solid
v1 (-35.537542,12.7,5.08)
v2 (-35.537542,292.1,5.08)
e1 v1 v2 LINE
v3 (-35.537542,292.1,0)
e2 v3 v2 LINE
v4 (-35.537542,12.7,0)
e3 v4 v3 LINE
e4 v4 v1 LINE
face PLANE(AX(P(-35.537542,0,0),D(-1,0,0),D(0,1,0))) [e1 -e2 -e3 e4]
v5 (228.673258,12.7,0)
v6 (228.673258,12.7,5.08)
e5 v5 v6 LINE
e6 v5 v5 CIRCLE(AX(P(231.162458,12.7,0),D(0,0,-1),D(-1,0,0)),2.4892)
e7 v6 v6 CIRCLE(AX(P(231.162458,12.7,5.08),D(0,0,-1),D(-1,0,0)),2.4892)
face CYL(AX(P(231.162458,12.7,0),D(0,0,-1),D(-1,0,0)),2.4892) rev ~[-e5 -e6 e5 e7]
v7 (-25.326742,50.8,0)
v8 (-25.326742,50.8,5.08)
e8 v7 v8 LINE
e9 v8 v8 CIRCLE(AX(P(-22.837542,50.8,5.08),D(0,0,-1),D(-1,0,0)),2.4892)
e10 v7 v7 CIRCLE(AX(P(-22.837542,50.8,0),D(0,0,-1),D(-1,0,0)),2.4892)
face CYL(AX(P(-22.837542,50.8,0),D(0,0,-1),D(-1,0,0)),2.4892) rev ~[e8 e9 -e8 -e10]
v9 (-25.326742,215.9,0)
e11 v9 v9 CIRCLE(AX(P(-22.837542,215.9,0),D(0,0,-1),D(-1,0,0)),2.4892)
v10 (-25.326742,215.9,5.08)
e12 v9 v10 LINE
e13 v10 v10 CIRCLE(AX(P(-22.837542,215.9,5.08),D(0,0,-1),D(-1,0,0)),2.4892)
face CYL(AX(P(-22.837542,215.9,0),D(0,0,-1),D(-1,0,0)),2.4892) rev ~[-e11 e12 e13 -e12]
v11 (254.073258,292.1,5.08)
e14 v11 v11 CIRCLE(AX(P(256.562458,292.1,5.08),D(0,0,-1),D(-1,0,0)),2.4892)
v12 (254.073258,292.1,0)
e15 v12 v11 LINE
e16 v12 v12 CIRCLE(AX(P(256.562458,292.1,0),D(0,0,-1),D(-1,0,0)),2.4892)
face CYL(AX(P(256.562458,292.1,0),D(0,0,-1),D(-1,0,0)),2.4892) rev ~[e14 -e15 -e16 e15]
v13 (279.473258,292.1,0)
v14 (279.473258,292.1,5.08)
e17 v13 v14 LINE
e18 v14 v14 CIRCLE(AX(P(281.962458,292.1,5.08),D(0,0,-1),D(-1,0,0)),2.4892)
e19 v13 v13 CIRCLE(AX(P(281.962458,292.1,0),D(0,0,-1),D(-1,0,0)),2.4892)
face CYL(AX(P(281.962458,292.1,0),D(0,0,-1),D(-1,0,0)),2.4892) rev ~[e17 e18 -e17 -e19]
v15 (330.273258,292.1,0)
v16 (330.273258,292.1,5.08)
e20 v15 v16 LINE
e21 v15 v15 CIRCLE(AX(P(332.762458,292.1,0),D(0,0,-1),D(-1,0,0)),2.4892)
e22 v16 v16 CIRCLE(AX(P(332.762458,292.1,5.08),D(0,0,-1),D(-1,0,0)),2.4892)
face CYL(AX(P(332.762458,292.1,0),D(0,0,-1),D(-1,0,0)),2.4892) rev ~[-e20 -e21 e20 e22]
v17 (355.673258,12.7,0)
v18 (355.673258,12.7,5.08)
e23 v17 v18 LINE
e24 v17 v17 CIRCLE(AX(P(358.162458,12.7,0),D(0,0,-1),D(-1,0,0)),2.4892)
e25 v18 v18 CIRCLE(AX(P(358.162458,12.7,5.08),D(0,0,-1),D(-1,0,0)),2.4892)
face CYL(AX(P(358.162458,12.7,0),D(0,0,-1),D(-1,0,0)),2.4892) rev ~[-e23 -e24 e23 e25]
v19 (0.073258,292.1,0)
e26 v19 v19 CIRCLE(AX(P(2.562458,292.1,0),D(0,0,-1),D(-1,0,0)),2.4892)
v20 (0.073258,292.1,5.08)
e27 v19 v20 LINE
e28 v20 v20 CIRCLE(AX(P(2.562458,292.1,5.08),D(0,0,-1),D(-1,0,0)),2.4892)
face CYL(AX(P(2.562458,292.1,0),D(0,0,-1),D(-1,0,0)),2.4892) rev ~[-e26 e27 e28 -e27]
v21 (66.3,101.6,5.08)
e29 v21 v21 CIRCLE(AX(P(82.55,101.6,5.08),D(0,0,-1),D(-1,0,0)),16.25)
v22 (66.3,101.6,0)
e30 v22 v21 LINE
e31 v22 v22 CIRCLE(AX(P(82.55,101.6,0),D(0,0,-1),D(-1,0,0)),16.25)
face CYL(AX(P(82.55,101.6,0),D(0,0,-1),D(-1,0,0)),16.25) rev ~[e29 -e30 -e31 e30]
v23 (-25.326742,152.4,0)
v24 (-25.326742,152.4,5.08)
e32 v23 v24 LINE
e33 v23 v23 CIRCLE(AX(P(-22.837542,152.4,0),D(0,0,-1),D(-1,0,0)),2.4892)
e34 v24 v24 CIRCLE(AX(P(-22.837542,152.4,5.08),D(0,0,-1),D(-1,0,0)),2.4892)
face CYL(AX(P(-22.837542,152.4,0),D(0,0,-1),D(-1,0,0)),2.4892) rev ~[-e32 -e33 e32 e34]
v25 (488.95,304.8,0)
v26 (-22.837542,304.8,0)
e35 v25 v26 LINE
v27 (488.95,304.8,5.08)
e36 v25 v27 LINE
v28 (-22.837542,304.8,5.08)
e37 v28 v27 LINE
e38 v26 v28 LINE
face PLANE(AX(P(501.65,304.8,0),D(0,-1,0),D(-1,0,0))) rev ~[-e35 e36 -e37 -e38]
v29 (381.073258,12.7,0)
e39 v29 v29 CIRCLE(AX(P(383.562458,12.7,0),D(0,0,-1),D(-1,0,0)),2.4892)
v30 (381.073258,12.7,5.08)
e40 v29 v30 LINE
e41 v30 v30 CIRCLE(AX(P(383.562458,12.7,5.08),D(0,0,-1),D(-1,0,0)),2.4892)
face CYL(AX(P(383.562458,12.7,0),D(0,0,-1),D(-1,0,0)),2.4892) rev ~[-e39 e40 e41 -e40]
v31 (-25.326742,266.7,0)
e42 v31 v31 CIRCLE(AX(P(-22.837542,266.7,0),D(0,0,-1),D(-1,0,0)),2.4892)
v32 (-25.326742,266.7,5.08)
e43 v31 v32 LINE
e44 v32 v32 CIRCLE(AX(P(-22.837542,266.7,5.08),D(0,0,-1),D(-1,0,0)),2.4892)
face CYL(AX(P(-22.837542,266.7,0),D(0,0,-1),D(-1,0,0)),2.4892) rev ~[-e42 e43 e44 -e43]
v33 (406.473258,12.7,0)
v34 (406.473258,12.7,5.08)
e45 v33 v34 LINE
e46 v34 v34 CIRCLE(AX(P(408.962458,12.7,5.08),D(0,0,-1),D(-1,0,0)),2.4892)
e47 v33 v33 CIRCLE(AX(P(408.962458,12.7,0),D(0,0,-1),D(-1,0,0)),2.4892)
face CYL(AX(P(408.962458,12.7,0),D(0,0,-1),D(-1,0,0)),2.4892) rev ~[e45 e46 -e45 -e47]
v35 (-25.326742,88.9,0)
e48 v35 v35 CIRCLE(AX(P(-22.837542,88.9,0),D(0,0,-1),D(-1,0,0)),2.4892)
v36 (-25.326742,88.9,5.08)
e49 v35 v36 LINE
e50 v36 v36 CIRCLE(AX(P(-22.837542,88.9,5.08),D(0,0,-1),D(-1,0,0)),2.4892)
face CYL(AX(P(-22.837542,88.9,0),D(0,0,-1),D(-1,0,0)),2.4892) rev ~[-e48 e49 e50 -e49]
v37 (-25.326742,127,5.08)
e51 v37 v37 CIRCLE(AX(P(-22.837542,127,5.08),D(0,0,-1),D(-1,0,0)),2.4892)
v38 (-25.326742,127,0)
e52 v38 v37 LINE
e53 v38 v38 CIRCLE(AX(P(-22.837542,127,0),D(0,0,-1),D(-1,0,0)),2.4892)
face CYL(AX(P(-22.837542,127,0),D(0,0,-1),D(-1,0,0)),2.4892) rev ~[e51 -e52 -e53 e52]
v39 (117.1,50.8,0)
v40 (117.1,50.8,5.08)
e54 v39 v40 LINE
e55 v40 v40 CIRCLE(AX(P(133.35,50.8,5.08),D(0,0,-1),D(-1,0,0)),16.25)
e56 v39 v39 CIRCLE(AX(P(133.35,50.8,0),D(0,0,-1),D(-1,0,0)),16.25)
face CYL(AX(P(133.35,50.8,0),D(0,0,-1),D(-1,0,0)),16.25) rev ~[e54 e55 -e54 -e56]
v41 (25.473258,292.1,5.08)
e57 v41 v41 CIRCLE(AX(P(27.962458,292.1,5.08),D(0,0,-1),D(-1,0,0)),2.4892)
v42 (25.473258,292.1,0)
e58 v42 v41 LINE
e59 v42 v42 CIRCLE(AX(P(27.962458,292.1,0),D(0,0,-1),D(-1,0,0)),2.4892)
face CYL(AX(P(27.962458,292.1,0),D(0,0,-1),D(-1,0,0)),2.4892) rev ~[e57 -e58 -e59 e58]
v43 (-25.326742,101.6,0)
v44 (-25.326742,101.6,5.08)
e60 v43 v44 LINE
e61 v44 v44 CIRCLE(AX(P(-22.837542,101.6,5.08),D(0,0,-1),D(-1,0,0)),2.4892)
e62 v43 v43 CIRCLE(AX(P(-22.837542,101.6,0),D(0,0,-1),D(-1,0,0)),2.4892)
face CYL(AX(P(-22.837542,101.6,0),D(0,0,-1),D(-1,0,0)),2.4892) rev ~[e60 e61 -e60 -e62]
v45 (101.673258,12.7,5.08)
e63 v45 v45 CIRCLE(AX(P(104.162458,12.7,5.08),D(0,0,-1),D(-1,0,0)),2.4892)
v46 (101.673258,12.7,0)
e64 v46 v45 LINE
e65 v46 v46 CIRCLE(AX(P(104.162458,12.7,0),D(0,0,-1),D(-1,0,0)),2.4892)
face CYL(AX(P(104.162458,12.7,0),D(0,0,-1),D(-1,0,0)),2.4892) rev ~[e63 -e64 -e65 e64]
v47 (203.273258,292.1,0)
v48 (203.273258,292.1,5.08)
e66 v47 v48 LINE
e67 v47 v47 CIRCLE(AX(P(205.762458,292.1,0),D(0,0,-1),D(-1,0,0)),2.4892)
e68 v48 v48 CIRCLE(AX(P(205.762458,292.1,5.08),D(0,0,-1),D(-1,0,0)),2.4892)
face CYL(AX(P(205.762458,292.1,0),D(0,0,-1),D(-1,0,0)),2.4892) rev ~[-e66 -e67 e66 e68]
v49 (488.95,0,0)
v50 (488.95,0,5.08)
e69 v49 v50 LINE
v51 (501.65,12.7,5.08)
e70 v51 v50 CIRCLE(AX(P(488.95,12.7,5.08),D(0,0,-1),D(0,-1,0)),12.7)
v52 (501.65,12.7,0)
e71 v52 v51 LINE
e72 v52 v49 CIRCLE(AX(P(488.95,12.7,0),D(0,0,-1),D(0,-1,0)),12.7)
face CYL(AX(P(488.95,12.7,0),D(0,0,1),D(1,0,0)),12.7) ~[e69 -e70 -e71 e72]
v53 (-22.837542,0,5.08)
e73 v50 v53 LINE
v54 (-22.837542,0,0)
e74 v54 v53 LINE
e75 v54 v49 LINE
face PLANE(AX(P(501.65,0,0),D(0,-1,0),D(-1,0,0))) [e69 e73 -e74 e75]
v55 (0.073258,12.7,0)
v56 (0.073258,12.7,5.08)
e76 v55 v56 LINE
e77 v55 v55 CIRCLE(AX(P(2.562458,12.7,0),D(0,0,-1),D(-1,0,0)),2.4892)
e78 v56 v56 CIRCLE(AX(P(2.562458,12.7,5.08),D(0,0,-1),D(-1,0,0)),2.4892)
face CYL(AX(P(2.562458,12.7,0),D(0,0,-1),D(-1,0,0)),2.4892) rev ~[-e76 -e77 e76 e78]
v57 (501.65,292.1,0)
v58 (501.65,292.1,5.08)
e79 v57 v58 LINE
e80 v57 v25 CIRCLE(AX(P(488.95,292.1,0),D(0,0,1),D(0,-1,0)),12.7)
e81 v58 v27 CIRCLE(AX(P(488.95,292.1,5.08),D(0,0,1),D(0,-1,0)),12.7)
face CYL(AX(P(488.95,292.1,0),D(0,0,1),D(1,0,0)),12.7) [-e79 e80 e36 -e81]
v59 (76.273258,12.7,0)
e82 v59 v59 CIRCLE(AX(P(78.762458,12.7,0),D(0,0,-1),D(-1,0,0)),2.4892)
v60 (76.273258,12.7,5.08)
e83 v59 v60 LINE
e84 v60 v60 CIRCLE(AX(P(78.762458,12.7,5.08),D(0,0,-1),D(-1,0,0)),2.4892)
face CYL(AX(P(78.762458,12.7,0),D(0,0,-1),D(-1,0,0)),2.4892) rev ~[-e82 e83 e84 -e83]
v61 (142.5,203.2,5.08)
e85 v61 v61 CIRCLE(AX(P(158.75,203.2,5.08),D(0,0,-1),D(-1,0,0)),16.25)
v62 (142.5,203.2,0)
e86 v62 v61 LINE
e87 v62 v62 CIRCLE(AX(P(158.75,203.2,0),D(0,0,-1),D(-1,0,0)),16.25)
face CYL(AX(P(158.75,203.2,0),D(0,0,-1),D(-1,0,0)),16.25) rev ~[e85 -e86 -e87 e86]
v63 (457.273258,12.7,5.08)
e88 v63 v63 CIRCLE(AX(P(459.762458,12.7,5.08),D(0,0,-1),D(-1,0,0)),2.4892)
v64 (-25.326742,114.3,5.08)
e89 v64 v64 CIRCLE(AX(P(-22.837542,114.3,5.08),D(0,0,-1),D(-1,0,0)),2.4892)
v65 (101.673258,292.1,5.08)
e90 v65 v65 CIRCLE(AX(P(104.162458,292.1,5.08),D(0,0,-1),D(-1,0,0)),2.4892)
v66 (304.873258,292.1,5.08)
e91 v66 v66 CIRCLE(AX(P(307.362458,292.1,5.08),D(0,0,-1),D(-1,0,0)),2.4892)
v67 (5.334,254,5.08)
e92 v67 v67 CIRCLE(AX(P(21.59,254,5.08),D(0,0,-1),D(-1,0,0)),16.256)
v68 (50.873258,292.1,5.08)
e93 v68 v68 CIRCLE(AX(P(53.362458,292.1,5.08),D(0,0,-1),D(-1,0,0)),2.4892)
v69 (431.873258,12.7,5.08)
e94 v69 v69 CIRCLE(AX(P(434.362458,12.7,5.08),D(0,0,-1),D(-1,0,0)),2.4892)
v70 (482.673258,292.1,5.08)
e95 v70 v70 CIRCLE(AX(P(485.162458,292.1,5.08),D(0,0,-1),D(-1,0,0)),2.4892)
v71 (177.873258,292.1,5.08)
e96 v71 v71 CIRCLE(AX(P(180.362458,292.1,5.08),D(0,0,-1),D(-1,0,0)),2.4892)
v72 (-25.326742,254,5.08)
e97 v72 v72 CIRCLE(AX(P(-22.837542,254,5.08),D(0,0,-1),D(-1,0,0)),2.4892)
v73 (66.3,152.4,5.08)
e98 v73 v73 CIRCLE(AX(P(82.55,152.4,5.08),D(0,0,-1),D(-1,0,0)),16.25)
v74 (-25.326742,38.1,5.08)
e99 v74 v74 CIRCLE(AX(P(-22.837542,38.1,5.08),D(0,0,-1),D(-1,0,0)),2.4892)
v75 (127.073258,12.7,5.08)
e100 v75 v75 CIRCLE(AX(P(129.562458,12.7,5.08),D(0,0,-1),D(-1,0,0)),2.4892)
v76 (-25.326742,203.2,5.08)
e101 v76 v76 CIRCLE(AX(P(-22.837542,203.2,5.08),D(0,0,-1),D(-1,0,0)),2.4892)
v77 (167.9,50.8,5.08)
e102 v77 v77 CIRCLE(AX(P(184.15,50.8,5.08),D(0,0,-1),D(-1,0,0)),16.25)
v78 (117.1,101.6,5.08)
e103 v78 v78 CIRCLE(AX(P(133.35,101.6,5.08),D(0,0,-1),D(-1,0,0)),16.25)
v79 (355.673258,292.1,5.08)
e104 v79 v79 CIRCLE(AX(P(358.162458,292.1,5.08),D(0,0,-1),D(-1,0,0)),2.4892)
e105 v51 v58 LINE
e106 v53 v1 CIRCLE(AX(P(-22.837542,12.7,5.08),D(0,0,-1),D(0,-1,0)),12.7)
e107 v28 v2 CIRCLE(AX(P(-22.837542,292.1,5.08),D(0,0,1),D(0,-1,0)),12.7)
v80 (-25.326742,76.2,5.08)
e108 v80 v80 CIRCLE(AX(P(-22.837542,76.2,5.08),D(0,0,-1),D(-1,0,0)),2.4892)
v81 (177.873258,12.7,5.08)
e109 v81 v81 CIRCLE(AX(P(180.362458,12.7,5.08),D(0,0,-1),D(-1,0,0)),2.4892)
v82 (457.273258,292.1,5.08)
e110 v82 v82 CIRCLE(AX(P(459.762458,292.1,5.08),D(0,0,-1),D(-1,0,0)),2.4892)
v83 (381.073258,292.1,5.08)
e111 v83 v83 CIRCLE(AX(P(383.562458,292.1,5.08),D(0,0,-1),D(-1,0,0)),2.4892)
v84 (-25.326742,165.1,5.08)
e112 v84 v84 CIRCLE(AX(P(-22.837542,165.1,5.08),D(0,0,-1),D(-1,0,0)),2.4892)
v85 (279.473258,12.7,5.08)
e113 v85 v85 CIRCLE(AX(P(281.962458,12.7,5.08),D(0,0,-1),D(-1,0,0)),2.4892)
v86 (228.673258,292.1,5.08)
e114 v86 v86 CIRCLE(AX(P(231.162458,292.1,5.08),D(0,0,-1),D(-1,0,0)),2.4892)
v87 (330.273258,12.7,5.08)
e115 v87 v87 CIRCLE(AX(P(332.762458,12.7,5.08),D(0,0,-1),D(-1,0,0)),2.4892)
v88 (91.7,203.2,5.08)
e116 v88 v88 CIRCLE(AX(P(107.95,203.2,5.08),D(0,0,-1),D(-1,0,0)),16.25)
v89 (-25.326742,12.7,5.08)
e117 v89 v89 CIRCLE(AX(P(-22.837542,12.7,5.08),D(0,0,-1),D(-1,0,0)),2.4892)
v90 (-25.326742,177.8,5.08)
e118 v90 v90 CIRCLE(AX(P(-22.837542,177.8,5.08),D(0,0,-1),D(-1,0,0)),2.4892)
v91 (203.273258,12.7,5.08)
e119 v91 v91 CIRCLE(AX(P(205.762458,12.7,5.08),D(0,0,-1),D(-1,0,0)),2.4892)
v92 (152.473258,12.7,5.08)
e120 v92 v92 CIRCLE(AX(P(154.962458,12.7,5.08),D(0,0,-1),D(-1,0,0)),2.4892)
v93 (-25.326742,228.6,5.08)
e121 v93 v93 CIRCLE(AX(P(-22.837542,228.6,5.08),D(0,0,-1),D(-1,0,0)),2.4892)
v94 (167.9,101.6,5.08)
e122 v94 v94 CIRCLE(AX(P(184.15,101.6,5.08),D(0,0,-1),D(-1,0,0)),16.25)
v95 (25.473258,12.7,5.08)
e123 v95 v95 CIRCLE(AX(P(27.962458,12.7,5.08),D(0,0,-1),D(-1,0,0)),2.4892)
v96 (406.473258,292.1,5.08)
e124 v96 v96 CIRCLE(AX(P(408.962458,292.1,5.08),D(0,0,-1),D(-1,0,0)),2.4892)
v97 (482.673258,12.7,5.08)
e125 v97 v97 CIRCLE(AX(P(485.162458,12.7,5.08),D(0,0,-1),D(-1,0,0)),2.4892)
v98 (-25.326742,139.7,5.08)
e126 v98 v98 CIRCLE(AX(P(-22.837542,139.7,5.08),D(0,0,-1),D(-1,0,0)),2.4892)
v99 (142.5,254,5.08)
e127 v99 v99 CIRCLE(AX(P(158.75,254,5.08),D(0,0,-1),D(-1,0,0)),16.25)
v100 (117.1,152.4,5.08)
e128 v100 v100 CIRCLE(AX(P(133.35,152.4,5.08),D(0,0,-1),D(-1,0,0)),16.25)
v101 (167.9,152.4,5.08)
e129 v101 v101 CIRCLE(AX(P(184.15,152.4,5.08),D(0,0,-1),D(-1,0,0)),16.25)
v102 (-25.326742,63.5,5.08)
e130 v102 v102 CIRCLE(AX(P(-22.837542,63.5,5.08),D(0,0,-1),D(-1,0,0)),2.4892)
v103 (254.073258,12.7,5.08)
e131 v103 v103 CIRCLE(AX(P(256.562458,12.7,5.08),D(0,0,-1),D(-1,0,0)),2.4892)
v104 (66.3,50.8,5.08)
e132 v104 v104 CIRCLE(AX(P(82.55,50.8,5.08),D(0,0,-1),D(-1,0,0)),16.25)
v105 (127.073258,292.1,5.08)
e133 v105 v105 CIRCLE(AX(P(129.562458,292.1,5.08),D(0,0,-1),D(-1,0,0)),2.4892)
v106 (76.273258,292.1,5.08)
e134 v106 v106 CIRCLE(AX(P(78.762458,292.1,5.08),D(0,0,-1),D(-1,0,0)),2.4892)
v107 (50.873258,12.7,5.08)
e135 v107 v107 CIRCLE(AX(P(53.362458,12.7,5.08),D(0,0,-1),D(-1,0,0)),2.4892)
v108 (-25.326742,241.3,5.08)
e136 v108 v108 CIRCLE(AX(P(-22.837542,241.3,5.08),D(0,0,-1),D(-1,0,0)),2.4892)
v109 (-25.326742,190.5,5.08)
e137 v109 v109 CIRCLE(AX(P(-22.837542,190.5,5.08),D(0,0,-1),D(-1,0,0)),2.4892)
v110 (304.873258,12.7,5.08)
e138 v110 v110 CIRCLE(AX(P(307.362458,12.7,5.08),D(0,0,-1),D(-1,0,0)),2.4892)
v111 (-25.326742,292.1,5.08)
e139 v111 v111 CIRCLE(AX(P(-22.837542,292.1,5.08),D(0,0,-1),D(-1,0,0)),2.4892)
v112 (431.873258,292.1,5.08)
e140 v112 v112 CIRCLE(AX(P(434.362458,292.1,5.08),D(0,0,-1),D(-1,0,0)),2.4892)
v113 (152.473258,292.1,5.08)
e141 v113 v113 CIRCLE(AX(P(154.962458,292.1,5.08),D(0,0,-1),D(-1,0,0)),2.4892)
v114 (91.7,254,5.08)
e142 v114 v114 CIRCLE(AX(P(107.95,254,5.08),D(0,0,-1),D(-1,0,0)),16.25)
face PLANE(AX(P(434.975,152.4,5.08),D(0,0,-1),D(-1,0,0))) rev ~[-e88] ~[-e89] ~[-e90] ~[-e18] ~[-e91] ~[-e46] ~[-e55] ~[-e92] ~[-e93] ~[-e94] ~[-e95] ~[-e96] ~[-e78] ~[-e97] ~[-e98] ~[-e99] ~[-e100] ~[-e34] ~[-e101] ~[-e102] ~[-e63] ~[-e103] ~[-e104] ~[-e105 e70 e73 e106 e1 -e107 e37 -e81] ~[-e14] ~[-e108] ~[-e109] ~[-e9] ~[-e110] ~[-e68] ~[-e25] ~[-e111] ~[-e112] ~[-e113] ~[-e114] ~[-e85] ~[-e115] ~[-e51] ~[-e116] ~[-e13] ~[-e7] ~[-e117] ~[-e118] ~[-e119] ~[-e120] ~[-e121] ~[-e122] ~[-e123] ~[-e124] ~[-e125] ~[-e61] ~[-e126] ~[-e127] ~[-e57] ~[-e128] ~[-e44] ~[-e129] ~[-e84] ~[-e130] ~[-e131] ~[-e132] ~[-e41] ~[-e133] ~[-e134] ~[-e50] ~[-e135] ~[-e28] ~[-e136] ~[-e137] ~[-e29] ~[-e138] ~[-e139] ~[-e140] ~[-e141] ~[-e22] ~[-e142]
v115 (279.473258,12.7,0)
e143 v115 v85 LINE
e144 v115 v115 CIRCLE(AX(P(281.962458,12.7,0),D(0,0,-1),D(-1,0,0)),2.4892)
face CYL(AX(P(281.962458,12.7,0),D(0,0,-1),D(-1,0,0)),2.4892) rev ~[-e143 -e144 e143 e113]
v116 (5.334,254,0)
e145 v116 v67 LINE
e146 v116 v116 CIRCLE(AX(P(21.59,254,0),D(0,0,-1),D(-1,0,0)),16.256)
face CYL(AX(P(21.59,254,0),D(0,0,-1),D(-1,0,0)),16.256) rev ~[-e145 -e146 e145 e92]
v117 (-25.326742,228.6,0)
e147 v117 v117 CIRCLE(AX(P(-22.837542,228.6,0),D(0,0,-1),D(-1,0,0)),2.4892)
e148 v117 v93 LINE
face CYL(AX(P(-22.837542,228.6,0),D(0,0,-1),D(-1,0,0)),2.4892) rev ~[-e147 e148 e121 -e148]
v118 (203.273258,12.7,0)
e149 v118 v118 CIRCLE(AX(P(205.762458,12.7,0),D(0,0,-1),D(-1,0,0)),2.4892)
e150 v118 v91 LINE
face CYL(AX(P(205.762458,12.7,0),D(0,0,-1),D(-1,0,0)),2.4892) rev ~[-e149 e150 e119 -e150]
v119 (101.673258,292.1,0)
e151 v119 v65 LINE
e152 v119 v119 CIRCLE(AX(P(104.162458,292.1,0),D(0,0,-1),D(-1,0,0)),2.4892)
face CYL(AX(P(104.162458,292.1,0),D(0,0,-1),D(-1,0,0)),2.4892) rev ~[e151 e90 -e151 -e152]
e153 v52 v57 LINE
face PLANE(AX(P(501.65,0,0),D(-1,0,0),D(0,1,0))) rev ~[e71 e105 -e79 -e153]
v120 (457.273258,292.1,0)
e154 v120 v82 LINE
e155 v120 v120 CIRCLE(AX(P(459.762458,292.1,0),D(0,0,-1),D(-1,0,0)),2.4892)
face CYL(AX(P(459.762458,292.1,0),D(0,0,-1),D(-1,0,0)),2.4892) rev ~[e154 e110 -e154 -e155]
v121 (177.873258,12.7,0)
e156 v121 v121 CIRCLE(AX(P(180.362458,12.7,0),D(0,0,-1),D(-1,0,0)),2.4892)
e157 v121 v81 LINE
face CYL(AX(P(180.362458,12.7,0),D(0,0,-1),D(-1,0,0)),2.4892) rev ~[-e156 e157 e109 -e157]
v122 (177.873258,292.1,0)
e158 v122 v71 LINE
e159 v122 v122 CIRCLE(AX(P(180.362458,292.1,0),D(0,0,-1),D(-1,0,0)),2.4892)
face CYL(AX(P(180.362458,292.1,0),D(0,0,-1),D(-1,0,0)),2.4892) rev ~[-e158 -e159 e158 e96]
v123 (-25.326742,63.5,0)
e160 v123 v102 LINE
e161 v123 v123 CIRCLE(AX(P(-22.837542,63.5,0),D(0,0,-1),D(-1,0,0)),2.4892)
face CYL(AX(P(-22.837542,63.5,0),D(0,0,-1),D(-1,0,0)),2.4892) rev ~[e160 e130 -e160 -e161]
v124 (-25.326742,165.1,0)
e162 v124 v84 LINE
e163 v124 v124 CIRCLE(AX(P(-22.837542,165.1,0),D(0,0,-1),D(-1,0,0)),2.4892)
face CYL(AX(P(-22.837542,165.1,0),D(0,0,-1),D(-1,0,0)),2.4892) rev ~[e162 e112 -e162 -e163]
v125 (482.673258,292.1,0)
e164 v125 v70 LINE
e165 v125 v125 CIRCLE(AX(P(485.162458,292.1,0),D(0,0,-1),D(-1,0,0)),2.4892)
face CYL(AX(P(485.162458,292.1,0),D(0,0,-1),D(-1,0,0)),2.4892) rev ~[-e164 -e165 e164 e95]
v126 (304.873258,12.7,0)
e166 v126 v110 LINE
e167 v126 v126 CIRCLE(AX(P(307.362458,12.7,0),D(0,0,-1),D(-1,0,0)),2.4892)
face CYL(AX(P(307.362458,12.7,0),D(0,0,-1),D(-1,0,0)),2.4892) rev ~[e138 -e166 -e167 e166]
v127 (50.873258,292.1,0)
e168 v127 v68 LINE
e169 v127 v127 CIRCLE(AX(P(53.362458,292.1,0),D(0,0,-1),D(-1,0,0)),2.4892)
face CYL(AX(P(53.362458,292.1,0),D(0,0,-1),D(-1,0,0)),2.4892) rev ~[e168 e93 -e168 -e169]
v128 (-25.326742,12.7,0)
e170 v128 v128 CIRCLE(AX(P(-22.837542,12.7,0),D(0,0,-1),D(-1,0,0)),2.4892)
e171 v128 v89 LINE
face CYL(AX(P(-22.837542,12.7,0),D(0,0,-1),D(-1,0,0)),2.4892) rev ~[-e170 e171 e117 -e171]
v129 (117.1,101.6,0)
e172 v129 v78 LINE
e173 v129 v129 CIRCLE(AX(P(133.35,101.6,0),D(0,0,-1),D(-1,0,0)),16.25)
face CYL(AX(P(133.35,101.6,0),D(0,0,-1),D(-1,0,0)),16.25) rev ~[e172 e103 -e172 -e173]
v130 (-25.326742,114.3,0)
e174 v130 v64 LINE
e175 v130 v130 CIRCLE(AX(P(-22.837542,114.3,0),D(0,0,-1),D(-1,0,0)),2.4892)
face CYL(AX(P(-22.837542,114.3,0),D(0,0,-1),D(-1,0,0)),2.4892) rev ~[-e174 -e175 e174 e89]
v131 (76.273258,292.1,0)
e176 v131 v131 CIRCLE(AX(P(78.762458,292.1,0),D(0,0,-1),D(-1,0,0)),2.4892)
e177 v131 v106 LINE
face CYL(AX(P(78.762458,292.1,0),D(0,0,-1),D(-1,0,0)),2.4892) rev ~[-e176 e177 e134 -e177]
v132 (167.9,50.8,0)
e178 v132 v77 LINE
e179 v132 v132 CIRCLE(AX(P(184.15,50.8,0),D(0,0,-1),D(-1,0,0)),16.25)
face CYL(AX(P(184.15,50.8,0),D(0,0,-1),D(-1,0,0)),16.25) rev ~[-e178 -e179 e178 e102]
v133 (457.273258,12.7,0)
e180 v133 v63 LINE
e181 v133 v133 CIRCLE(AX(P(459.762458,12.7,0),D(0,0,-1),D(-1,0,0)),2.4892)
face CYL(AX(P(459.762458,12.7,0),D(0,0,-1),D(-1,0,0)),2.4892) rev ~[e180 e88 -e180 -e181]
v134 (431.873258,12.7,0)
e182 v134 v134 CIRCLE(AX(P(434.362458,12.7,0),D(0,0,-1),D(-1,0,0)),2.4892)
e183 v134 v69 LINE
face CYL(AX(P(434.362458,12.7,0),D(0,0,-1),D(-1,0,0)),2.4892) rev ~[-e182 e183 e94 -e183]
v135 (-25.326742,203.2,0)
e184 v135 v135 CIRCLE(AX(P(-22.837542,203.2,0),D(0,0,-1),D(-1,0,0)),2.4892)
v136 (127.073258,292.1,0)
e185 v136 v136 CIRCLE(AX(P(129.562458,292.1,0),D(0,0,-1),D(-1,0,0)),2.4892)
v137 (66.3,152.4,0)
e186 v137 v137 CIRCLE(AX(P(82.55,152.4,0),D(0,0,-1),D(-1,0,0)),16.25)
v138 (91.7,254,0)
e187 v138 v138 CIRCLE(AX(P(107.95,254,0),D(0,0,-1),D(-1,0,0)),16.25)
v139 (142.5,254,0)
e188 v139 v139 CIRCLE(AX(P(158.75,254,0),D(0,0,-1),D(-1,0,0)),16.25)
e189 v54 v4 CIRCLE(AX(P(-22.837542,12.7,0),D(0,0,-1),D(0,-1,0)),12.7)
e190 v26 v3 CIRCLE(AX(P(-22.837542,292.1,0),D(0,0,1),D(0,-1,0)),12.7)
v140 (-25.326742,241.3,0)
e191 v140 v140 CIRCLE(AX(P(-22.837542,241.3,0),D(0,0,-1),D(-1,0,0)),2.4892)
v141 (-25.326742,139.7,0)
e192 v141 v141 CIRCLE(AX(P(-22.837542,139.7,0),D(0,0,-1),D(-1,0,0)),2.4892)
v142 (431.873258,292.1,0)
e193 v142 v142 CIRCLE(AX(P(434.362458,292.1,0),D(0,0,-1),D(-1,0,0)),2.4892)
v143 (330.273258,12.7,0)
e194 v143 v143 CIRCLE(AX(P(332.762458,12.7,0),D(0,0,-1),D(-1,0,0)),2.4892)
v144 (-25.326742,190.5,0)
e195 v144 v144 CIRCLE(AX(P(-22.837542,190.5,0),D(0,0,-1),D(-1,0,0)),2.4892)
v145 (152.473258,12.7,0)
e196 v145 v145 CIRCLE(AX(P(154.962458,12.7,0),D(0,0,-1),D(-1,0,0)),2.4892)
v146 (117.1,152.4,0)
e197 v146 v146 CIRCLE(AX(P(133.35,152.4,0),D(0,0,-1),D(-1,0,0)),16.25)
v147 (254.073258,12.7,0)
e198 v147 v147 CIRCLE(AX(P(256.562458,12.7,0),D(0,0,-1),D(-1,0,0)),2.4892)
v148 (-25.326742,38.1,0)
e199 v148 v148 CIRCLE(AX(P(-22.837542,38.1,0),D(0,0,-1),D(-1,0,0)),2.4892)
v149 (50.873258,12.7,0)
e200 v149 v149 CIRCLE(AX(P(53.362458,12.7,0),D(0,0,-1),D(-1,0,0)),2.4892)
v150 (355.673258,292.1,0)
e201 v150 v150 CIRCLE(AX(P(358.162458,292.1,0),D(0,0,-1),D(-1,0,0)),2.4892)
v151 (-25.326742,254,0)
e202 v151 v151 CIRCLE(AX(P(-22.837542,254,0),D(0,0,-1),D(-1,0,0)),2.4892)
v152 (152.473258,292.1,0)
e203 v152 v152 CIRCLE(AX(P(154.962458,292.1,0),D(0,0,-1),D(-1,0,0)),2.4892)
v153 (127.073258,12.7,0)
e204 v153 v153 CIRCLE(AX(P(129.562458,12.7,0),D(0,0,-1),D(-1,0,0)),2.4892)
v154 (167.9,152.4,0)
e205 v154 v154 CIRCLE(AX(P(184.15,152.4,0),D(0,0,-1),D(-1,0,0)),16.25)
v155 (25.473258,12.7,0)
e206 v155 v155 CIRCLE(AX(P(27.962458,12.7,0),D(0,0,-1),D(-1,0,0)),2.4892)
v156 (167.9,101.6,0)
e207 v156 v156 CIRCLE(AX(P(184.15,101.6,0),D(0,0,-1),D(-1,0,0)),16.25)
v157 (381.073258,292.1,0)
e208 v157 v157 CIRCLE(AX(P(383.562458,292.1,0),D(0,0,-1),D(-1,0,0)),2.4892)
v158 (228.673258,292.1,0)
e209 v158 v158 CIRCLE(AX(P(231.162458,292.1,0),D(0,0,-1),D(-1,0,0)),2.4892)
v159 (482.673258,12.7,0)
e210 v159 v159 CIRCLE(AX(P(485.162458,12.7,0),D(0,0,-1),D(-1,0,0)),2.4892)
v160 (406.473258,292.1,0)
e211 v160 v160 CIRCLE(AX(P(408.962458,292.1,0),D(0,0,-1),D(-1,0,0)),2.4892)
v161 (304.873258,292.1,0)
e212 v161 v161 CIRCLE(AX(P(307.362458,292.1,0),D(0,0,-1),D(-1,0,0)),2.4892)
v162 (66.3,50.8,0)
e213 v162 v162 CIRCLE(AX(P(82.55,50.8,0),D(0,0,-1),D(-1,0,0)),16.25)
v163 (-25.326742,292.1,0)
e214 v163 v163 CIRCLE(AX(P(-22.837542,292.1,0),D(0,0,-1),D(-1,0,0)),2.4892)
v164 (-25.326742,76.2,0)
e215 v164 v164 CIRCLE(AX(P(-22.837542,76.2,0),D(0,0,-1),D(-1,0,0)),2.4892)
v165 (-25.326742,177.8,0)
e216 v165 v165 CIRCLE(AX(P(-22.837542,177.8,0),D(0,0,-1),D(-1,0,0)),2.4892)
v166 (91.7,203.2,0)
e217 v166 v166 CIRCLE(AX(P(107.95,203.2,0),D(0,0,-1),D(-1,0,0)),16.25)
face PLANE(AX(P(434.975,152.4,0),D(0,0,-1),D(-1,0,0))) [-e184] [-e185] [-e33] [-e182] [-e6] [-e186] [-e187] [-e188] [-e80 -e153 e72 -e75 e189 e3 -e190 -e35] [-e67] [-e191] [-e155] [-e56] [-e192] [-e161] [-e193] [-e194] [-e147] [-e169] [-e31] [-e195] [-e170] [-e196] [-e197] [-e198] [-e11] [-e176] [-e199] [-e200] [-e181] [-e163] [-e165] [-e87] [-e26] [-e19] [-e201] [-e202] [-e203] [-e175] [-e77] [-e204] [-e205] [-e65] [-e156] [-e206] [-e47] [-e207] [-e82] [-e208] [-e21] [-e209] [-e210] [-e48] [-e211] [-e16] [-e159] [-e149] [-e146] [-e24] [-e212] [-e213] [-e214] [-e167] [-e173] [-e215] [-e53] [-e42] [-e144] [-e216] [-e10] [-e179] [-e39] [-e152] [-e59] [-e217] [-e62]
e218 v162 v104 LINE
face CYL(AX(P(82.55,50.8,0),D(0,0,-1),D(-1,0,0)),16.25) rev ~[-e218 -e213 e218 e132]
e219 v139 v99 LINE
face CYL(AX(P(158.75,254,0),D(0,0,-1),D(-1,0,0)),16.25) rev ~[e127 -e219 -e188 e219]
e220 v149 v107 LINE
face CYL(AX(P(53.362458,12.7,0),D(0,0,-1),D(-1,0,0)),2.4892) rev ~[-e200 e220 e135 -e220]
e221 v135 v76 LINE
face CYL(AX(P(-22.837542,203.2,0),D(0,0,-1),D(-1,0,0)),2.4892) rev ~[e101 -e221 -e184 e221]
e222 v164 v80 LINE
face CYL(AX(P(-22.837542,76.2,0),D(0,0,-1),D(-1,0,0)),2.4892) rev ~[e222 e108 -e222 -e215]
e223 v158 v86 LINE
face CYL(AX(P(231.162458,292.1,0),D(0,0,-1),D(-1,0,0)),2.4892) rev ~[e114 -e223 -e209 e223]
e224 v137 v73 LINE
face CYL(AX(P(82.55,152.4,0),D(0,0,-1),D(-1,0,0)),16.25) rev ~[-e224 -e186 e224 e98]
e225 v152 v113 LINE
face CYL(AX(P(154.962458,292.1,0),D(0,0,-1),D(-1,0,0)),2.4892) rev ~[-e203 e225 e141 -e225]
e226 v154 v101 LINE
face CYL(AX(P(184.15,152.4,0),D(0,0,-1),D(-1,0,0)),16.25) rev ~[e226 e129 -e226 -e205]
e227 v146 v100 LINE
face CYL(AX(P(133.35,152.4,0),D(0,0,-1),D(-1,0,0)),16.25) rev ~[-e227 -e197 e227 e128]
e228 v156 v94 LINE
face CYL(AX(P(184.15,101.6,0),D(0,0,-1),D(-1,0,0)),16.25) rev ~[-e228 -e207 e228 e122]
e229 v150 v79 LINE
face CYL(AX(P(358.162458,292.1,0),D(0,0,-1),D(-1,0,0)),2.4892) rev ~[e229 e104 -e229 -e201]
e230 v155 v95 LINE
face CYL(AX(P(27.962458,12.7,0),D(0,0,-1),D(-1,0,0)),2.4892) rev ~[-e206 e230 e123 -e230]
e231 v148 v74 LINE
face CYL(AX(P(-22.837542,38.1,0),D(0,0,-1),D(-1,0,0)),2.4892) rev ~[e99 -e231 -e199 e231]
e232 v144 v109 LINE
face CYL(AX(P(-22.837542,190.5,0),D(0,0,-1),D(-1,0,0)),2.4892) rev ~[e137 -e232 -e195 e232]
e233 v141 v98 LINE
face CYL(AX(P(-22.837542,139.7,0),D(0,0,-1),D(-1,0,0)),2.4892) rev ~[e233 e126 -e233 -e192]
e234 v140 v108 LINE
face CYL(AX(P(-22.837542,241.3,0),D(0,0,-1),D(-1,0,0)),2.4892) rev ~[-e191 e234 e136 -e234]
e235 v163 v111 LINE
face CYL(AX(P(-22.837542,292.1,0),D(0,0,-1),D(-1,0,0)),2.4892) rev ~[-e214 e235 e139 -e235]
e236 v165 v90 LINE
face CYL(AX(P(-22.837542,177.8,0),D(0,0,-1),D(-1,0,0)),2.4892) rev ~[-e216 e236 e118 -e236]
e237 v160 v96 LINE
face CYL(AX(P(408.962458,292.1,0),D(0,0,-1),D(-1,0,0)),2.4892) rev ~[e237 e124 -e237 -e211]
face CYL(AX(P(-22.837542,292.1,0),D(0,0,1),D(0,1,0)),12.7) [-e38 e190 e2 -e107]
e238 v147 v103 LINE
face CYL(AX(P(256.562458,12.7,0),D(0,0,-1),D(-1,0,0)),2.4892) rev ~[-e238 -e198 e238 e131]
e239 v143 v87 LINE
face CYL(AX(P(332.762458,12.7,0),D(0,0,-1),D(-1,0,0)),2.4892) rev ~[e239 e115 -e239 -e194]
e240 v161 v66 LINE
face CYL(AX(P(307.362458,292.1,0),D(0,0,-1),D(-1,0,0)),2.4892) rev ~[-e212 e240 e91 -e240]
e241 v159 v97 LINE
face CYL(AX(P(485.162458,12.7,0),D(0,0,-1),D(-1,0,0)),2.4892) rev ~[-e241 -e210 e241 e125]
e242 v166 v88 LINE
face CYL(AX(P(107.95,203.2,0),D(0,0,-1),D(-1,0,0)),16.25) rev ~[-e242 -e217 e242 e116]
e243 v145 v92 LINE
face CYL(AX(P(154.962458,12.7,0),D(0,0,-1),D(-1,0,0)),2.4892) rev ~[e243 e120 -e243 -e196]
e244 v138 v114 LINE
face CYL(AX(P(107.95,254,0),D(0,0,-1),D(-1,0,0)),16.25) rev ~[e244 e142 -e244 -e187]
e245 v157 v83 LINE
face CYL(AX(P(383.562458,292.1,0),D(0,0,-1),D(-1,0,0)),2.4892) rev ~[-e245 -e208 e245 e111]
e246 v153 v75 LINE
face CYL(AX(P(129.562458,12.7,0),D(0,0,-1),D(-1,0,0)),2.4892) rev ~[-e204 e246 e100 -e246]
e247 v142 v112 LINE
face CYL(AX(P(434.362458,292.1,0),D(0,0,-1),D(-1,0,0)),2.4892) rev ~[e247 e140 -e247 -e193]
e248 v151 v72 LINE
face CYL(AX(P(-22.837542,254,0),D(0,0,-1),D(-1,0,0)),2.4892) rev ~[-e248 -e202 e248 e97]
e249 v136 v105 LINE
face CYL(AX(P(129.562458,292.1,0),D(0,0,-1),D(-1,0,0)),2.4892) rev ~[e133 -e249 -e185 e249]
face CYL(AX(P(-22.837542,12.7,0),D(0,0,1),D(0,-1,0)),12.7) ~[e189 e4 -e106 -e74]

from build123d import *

# Parameters (mm, degrees)
SKETCH1_W           = 381
SKETCH1_H           = 304.8
BOSS_EXTRUDE1_DEPTH = 5.08
SKETCH3_R           = 16.25
SKETCH3_R_2         = 16.256
CUT_EXTRUDE2_DEPTH  = 488.944511599
SKETCH4_W           = 133.35
SKETCH4_H           = 304.8
SKETCH4_W_2         = 38.1
BOSS_EXTRUDE2_DEPTH = 5.08
SKETCH5_R           = 2.4892
CUT_EXTRUDE3_DEPTH  = 588.01070595
FILLET1_R           = 12.7


with BuildPart() as part:
    # Sketch1 → Boss-Extrude1 (new body)
    with BuildSketch(Plane.XY):
        with Locations((190.5, 152.4)):
            Rectangle(SKETCH1_W, SKETCH1_H)
    extrude(amount=BOSS_EXTRUDE1_DEPTH)

    # Sketch3 → Cut-Extrude2 (cut, through all)
    with BuildSketch(Plane(origin=(0, 0, 0), x_dir=(-1, 0, 0), z_dir=(0, 0, -1))):
        with Locations((-158.75, 254)):
            Circle(SKETCH3_R)
        with Locations((-107.95, 254)):
            Circle(SKETCH3_R)
        with Locations((-21.59, 254)):
            Circle(SKETCH3_R_2)
        with Locations((-158.75, 203.2)):
            Circle(SKETCH3_R)
        with Locations((-107.95, 203.2)):
            Circle(SKETCH3_R)
        with Locations((-184.15, 152.4)):
            Circle(SKETCH3_R)
        with Locations((-133.35, 152.4)):
            Circle(SKETCH3_R)
        with Locations((-82.55, 152.4)):
            Circle(SKETCH3_R)
        with Locations((-184.15, 101.6)):
            Circle(SKETCH3_R)
        with Locations((-133.35, 101.6)):
            Circle(SKETCH3_R)
        with Locations((-82.55, 101.6)):
            Circle(SKETCH3_R)
        with Locations((-184.15, 50.8)):
            Circle(SKETCH3_R)
        with Locations((-133.35, 50.8)):
            Circle(SKETCH3_R)
        with Locations((-82.55, 50.8)):
            Circle(SKETCH3_R)
    extrude(amount=-CUT_EXTRUDE2_DEPTH, mode=Mode.SUBTRACT)

    # Sketch4 → Boss-Extrude2 (add, through all)
    with BuildSketch(Plane(origin=(0, 0, 0), x_dir=(-1, 0, 0), z_dir=(0, 0, -1))):
        with Locations((-434.975, 152.4)):
            Rectangle(SKETCH4_W, SKETCH4_H)
        with Locations((16.487542192, 152.4)):
            Rectangle(SKETCH4_W_2, SKETCH4_H)
    extrude(amount=-BOSS_EXTRUDE2_DEPTH)

    # Sketch5 → Cut-Extrude3 (cut, through all)
    with BuildSketch(Plane(origin=(0, 0, 0), x_dir=(-1, 0, 0), z_dir=(0, 0, -1))):
        with Locations((22.837542192, 292.1)):
            Circle(SKETCH5_R)
        with Locations((22.837542192, 266.7)):
            Circle(SKETCH5_R)
        with Locations((22.837542192, 241.3)):
            Circle(SKETCH5_R)
        with Locations((22.837542192, 215.9)):
            Circle(SKETCH5_R)
        with Locations((22.837542192, 190.5)):
            Circle(SKETCH5_R)
        with Locations((22.837542192, 165.1)):
            Circle(SKETCH5_R)
        with Locations((22.837542192, 139.7)):
            Circle(SKETCH5_R)
        with Locations((22.837542192, 114.3)):
            Circle(SKETCH5_R)
        with Locations((22.837542192, 88.9)):
            Circle(SKETCH5_R)
        with Locations((22.837542192, 63.5)):
            Circle(SKETCH5_R)
        with Locations((22.837542192, 38.1)):
            Circle(SKETCH5_R)
        with Locations((22.837542192, 12.7)):
            Circle(SKETCH5_R)
        with Locations((22.837542192, 254)):
            Circle(SKETCH5_R)
        with Locations((22.837542192, 228.6)):
            Circle(SKETCH5_R)
        with Locations((22.837542192, 203.2)):
            Circle(SKETCH5_R)
        with Locations((22.837542192, 177.8)):
            Circle(SKETCH5_R)
        with Locations((22.837542192, 152.4)):
            Circle(SKETCH5_R)
        with Locations((22.837542192, 127)):
            Circle(SKETCH5_R)
        with Locations((22.837542192, 101.6)):
            Circle(SKETCH5_R)
        with Locations((22.837542192, 76.2)):
            Circle(SKETCH5_R)
        with Locations((22.837542192, 50.8)):
            Circle(SKETCH5_R)
        with Locations((-2.562457808, 292.1)):
            Circle(SKETCH5_R)
        with Locations((-27.962457808, 292.1)):
            Circle(SKETCH5_R)
        with Locations((-53.362457808, 292.1)):
            Circle(SKETCH5_R)
        with Locations((-78.762457808, 292.1)):
            Circle(SKETCH5_R)
        with Locations((-104.162457808, 292.1)):
            Circle(SKETCH5_R)
        with Locations((-129.562457808, 292.1)):
            Circle(SKETCH5_R)
        with Locations((-154.962457808, 292.1)):
            Circle(SKETCH5_R)
        with Locations((-180.362457808, 292.1)):
            Circle(SKETCH5_R)
        with Locations((-205.762457808, 292.1)):
            Circle(SKETCH5_R)
        with Locations((-231.162457808, 292.1)):
            Circle(SKETCH5_R)
        with Locations((-256.562457808, 292.1)):
            Circle(SKETCH5_R)
        with Locations((-281.962457808, 292.1)):
            Circle(SKETCH5_R)
        with Locations((-307.362457808, 292.1)):
            Circle(SKETCH5_R)
        with Locations((-332.762457808, 292.1)):
            Circle(SKETCH5_R)
        with Locations((-358.162457808, 292.1)):
            Circle(SKETCH5_R)
        with Locations((-383.562457808, 292.1)):
            Circle(SKETCH5_R)
        with Locations((-408.962457808, 292.1)):
            Circle(SKETCH5_R)
        with Locations((-434.362457808, 292.1)):
            Circle(SKETCH5_R)
        with Locations((-459.762457808, 292.1)):
            Circle(SKETCH5_R)
        with Locations((-485.162457808, 292.1)):
            Circle(SKETCH5_R)
        with Locations((-2.562457808, 12.7)):
            Circle(SKETCH5_R)
        with Locations((-27.962457808, 12.7)):
            Circle(SKETCH5_R)
        with Locations((-53.362457808, 12.7)):
            Circle(SKETCH5_R)
        with Locations((-78.762457808, 12.7)):
            Circle(SKETCH5_R)
        with Locations((-104.162457808, 12.7)):
            Circle(SKETCH5_R)
        with Locations((-129.562457808, 12.7)):
            Circle(SKETCH5_R)
        with Locations((-154.962457808, 12.7)):
            Circle(SKETCH5_R)
        with Locations((-180.362457808, 12.7)):
            Circle(SKETCH5_R)
        with Locations((-205.762457808, 12.7)):
            Circle(SKETCH5_R)
        with Locations((-231.162457808, 12.7)):
            Circle(SKETCH5_R)
        with Locations((-256.562457808, 12.7)):
            Circle(SKETCH5_R)
        with Locations((-281.962457808, 12.7)):
            Circle(SKETCH5_R)
        with Locations((-307.362457808, 12.7)):
            Circle(SKETCH5_R)
        with Locations((-332.762457808, 12.7)):
            Circle(SKETCH5_R)
        with Locations((-358.162457808, 12.7)):
            Circle(SKETCH5_R)
        with Locations((-383.562457808, 12.7)):
            Circle(SKETCH5_R)
        with Locations((-408.962457808, 12.7)):
            Circle(SKETCH5_R)
        with Locations((-434.362457808, 12.7)):
            Circle(SKETCH5_R)
        with Locations((-459.762457808, 12.7)):
            Circle(SKETCH5_R)
        with Locations((-485.162457808, 12.7)):
            Circle(SKETCH5_R)
    extrude(amount=-CUT_EXTRUDE3_DEPTH, mode=Mode.SUBTRACT)

    # Fillet1
    fillet1_edges = [part.edges().sort_by_distance(p)[0] for p in [
        (-35.537542192, 0, 2.54),
        (-35.537542192, 304.8, 2.54),
        (501.65, 304.8, 2.54),
        (501.65, 0, 2.54),
    ]]
    fillet(fillet1_edges, radius=FILLET1_R)


solid = part.part
